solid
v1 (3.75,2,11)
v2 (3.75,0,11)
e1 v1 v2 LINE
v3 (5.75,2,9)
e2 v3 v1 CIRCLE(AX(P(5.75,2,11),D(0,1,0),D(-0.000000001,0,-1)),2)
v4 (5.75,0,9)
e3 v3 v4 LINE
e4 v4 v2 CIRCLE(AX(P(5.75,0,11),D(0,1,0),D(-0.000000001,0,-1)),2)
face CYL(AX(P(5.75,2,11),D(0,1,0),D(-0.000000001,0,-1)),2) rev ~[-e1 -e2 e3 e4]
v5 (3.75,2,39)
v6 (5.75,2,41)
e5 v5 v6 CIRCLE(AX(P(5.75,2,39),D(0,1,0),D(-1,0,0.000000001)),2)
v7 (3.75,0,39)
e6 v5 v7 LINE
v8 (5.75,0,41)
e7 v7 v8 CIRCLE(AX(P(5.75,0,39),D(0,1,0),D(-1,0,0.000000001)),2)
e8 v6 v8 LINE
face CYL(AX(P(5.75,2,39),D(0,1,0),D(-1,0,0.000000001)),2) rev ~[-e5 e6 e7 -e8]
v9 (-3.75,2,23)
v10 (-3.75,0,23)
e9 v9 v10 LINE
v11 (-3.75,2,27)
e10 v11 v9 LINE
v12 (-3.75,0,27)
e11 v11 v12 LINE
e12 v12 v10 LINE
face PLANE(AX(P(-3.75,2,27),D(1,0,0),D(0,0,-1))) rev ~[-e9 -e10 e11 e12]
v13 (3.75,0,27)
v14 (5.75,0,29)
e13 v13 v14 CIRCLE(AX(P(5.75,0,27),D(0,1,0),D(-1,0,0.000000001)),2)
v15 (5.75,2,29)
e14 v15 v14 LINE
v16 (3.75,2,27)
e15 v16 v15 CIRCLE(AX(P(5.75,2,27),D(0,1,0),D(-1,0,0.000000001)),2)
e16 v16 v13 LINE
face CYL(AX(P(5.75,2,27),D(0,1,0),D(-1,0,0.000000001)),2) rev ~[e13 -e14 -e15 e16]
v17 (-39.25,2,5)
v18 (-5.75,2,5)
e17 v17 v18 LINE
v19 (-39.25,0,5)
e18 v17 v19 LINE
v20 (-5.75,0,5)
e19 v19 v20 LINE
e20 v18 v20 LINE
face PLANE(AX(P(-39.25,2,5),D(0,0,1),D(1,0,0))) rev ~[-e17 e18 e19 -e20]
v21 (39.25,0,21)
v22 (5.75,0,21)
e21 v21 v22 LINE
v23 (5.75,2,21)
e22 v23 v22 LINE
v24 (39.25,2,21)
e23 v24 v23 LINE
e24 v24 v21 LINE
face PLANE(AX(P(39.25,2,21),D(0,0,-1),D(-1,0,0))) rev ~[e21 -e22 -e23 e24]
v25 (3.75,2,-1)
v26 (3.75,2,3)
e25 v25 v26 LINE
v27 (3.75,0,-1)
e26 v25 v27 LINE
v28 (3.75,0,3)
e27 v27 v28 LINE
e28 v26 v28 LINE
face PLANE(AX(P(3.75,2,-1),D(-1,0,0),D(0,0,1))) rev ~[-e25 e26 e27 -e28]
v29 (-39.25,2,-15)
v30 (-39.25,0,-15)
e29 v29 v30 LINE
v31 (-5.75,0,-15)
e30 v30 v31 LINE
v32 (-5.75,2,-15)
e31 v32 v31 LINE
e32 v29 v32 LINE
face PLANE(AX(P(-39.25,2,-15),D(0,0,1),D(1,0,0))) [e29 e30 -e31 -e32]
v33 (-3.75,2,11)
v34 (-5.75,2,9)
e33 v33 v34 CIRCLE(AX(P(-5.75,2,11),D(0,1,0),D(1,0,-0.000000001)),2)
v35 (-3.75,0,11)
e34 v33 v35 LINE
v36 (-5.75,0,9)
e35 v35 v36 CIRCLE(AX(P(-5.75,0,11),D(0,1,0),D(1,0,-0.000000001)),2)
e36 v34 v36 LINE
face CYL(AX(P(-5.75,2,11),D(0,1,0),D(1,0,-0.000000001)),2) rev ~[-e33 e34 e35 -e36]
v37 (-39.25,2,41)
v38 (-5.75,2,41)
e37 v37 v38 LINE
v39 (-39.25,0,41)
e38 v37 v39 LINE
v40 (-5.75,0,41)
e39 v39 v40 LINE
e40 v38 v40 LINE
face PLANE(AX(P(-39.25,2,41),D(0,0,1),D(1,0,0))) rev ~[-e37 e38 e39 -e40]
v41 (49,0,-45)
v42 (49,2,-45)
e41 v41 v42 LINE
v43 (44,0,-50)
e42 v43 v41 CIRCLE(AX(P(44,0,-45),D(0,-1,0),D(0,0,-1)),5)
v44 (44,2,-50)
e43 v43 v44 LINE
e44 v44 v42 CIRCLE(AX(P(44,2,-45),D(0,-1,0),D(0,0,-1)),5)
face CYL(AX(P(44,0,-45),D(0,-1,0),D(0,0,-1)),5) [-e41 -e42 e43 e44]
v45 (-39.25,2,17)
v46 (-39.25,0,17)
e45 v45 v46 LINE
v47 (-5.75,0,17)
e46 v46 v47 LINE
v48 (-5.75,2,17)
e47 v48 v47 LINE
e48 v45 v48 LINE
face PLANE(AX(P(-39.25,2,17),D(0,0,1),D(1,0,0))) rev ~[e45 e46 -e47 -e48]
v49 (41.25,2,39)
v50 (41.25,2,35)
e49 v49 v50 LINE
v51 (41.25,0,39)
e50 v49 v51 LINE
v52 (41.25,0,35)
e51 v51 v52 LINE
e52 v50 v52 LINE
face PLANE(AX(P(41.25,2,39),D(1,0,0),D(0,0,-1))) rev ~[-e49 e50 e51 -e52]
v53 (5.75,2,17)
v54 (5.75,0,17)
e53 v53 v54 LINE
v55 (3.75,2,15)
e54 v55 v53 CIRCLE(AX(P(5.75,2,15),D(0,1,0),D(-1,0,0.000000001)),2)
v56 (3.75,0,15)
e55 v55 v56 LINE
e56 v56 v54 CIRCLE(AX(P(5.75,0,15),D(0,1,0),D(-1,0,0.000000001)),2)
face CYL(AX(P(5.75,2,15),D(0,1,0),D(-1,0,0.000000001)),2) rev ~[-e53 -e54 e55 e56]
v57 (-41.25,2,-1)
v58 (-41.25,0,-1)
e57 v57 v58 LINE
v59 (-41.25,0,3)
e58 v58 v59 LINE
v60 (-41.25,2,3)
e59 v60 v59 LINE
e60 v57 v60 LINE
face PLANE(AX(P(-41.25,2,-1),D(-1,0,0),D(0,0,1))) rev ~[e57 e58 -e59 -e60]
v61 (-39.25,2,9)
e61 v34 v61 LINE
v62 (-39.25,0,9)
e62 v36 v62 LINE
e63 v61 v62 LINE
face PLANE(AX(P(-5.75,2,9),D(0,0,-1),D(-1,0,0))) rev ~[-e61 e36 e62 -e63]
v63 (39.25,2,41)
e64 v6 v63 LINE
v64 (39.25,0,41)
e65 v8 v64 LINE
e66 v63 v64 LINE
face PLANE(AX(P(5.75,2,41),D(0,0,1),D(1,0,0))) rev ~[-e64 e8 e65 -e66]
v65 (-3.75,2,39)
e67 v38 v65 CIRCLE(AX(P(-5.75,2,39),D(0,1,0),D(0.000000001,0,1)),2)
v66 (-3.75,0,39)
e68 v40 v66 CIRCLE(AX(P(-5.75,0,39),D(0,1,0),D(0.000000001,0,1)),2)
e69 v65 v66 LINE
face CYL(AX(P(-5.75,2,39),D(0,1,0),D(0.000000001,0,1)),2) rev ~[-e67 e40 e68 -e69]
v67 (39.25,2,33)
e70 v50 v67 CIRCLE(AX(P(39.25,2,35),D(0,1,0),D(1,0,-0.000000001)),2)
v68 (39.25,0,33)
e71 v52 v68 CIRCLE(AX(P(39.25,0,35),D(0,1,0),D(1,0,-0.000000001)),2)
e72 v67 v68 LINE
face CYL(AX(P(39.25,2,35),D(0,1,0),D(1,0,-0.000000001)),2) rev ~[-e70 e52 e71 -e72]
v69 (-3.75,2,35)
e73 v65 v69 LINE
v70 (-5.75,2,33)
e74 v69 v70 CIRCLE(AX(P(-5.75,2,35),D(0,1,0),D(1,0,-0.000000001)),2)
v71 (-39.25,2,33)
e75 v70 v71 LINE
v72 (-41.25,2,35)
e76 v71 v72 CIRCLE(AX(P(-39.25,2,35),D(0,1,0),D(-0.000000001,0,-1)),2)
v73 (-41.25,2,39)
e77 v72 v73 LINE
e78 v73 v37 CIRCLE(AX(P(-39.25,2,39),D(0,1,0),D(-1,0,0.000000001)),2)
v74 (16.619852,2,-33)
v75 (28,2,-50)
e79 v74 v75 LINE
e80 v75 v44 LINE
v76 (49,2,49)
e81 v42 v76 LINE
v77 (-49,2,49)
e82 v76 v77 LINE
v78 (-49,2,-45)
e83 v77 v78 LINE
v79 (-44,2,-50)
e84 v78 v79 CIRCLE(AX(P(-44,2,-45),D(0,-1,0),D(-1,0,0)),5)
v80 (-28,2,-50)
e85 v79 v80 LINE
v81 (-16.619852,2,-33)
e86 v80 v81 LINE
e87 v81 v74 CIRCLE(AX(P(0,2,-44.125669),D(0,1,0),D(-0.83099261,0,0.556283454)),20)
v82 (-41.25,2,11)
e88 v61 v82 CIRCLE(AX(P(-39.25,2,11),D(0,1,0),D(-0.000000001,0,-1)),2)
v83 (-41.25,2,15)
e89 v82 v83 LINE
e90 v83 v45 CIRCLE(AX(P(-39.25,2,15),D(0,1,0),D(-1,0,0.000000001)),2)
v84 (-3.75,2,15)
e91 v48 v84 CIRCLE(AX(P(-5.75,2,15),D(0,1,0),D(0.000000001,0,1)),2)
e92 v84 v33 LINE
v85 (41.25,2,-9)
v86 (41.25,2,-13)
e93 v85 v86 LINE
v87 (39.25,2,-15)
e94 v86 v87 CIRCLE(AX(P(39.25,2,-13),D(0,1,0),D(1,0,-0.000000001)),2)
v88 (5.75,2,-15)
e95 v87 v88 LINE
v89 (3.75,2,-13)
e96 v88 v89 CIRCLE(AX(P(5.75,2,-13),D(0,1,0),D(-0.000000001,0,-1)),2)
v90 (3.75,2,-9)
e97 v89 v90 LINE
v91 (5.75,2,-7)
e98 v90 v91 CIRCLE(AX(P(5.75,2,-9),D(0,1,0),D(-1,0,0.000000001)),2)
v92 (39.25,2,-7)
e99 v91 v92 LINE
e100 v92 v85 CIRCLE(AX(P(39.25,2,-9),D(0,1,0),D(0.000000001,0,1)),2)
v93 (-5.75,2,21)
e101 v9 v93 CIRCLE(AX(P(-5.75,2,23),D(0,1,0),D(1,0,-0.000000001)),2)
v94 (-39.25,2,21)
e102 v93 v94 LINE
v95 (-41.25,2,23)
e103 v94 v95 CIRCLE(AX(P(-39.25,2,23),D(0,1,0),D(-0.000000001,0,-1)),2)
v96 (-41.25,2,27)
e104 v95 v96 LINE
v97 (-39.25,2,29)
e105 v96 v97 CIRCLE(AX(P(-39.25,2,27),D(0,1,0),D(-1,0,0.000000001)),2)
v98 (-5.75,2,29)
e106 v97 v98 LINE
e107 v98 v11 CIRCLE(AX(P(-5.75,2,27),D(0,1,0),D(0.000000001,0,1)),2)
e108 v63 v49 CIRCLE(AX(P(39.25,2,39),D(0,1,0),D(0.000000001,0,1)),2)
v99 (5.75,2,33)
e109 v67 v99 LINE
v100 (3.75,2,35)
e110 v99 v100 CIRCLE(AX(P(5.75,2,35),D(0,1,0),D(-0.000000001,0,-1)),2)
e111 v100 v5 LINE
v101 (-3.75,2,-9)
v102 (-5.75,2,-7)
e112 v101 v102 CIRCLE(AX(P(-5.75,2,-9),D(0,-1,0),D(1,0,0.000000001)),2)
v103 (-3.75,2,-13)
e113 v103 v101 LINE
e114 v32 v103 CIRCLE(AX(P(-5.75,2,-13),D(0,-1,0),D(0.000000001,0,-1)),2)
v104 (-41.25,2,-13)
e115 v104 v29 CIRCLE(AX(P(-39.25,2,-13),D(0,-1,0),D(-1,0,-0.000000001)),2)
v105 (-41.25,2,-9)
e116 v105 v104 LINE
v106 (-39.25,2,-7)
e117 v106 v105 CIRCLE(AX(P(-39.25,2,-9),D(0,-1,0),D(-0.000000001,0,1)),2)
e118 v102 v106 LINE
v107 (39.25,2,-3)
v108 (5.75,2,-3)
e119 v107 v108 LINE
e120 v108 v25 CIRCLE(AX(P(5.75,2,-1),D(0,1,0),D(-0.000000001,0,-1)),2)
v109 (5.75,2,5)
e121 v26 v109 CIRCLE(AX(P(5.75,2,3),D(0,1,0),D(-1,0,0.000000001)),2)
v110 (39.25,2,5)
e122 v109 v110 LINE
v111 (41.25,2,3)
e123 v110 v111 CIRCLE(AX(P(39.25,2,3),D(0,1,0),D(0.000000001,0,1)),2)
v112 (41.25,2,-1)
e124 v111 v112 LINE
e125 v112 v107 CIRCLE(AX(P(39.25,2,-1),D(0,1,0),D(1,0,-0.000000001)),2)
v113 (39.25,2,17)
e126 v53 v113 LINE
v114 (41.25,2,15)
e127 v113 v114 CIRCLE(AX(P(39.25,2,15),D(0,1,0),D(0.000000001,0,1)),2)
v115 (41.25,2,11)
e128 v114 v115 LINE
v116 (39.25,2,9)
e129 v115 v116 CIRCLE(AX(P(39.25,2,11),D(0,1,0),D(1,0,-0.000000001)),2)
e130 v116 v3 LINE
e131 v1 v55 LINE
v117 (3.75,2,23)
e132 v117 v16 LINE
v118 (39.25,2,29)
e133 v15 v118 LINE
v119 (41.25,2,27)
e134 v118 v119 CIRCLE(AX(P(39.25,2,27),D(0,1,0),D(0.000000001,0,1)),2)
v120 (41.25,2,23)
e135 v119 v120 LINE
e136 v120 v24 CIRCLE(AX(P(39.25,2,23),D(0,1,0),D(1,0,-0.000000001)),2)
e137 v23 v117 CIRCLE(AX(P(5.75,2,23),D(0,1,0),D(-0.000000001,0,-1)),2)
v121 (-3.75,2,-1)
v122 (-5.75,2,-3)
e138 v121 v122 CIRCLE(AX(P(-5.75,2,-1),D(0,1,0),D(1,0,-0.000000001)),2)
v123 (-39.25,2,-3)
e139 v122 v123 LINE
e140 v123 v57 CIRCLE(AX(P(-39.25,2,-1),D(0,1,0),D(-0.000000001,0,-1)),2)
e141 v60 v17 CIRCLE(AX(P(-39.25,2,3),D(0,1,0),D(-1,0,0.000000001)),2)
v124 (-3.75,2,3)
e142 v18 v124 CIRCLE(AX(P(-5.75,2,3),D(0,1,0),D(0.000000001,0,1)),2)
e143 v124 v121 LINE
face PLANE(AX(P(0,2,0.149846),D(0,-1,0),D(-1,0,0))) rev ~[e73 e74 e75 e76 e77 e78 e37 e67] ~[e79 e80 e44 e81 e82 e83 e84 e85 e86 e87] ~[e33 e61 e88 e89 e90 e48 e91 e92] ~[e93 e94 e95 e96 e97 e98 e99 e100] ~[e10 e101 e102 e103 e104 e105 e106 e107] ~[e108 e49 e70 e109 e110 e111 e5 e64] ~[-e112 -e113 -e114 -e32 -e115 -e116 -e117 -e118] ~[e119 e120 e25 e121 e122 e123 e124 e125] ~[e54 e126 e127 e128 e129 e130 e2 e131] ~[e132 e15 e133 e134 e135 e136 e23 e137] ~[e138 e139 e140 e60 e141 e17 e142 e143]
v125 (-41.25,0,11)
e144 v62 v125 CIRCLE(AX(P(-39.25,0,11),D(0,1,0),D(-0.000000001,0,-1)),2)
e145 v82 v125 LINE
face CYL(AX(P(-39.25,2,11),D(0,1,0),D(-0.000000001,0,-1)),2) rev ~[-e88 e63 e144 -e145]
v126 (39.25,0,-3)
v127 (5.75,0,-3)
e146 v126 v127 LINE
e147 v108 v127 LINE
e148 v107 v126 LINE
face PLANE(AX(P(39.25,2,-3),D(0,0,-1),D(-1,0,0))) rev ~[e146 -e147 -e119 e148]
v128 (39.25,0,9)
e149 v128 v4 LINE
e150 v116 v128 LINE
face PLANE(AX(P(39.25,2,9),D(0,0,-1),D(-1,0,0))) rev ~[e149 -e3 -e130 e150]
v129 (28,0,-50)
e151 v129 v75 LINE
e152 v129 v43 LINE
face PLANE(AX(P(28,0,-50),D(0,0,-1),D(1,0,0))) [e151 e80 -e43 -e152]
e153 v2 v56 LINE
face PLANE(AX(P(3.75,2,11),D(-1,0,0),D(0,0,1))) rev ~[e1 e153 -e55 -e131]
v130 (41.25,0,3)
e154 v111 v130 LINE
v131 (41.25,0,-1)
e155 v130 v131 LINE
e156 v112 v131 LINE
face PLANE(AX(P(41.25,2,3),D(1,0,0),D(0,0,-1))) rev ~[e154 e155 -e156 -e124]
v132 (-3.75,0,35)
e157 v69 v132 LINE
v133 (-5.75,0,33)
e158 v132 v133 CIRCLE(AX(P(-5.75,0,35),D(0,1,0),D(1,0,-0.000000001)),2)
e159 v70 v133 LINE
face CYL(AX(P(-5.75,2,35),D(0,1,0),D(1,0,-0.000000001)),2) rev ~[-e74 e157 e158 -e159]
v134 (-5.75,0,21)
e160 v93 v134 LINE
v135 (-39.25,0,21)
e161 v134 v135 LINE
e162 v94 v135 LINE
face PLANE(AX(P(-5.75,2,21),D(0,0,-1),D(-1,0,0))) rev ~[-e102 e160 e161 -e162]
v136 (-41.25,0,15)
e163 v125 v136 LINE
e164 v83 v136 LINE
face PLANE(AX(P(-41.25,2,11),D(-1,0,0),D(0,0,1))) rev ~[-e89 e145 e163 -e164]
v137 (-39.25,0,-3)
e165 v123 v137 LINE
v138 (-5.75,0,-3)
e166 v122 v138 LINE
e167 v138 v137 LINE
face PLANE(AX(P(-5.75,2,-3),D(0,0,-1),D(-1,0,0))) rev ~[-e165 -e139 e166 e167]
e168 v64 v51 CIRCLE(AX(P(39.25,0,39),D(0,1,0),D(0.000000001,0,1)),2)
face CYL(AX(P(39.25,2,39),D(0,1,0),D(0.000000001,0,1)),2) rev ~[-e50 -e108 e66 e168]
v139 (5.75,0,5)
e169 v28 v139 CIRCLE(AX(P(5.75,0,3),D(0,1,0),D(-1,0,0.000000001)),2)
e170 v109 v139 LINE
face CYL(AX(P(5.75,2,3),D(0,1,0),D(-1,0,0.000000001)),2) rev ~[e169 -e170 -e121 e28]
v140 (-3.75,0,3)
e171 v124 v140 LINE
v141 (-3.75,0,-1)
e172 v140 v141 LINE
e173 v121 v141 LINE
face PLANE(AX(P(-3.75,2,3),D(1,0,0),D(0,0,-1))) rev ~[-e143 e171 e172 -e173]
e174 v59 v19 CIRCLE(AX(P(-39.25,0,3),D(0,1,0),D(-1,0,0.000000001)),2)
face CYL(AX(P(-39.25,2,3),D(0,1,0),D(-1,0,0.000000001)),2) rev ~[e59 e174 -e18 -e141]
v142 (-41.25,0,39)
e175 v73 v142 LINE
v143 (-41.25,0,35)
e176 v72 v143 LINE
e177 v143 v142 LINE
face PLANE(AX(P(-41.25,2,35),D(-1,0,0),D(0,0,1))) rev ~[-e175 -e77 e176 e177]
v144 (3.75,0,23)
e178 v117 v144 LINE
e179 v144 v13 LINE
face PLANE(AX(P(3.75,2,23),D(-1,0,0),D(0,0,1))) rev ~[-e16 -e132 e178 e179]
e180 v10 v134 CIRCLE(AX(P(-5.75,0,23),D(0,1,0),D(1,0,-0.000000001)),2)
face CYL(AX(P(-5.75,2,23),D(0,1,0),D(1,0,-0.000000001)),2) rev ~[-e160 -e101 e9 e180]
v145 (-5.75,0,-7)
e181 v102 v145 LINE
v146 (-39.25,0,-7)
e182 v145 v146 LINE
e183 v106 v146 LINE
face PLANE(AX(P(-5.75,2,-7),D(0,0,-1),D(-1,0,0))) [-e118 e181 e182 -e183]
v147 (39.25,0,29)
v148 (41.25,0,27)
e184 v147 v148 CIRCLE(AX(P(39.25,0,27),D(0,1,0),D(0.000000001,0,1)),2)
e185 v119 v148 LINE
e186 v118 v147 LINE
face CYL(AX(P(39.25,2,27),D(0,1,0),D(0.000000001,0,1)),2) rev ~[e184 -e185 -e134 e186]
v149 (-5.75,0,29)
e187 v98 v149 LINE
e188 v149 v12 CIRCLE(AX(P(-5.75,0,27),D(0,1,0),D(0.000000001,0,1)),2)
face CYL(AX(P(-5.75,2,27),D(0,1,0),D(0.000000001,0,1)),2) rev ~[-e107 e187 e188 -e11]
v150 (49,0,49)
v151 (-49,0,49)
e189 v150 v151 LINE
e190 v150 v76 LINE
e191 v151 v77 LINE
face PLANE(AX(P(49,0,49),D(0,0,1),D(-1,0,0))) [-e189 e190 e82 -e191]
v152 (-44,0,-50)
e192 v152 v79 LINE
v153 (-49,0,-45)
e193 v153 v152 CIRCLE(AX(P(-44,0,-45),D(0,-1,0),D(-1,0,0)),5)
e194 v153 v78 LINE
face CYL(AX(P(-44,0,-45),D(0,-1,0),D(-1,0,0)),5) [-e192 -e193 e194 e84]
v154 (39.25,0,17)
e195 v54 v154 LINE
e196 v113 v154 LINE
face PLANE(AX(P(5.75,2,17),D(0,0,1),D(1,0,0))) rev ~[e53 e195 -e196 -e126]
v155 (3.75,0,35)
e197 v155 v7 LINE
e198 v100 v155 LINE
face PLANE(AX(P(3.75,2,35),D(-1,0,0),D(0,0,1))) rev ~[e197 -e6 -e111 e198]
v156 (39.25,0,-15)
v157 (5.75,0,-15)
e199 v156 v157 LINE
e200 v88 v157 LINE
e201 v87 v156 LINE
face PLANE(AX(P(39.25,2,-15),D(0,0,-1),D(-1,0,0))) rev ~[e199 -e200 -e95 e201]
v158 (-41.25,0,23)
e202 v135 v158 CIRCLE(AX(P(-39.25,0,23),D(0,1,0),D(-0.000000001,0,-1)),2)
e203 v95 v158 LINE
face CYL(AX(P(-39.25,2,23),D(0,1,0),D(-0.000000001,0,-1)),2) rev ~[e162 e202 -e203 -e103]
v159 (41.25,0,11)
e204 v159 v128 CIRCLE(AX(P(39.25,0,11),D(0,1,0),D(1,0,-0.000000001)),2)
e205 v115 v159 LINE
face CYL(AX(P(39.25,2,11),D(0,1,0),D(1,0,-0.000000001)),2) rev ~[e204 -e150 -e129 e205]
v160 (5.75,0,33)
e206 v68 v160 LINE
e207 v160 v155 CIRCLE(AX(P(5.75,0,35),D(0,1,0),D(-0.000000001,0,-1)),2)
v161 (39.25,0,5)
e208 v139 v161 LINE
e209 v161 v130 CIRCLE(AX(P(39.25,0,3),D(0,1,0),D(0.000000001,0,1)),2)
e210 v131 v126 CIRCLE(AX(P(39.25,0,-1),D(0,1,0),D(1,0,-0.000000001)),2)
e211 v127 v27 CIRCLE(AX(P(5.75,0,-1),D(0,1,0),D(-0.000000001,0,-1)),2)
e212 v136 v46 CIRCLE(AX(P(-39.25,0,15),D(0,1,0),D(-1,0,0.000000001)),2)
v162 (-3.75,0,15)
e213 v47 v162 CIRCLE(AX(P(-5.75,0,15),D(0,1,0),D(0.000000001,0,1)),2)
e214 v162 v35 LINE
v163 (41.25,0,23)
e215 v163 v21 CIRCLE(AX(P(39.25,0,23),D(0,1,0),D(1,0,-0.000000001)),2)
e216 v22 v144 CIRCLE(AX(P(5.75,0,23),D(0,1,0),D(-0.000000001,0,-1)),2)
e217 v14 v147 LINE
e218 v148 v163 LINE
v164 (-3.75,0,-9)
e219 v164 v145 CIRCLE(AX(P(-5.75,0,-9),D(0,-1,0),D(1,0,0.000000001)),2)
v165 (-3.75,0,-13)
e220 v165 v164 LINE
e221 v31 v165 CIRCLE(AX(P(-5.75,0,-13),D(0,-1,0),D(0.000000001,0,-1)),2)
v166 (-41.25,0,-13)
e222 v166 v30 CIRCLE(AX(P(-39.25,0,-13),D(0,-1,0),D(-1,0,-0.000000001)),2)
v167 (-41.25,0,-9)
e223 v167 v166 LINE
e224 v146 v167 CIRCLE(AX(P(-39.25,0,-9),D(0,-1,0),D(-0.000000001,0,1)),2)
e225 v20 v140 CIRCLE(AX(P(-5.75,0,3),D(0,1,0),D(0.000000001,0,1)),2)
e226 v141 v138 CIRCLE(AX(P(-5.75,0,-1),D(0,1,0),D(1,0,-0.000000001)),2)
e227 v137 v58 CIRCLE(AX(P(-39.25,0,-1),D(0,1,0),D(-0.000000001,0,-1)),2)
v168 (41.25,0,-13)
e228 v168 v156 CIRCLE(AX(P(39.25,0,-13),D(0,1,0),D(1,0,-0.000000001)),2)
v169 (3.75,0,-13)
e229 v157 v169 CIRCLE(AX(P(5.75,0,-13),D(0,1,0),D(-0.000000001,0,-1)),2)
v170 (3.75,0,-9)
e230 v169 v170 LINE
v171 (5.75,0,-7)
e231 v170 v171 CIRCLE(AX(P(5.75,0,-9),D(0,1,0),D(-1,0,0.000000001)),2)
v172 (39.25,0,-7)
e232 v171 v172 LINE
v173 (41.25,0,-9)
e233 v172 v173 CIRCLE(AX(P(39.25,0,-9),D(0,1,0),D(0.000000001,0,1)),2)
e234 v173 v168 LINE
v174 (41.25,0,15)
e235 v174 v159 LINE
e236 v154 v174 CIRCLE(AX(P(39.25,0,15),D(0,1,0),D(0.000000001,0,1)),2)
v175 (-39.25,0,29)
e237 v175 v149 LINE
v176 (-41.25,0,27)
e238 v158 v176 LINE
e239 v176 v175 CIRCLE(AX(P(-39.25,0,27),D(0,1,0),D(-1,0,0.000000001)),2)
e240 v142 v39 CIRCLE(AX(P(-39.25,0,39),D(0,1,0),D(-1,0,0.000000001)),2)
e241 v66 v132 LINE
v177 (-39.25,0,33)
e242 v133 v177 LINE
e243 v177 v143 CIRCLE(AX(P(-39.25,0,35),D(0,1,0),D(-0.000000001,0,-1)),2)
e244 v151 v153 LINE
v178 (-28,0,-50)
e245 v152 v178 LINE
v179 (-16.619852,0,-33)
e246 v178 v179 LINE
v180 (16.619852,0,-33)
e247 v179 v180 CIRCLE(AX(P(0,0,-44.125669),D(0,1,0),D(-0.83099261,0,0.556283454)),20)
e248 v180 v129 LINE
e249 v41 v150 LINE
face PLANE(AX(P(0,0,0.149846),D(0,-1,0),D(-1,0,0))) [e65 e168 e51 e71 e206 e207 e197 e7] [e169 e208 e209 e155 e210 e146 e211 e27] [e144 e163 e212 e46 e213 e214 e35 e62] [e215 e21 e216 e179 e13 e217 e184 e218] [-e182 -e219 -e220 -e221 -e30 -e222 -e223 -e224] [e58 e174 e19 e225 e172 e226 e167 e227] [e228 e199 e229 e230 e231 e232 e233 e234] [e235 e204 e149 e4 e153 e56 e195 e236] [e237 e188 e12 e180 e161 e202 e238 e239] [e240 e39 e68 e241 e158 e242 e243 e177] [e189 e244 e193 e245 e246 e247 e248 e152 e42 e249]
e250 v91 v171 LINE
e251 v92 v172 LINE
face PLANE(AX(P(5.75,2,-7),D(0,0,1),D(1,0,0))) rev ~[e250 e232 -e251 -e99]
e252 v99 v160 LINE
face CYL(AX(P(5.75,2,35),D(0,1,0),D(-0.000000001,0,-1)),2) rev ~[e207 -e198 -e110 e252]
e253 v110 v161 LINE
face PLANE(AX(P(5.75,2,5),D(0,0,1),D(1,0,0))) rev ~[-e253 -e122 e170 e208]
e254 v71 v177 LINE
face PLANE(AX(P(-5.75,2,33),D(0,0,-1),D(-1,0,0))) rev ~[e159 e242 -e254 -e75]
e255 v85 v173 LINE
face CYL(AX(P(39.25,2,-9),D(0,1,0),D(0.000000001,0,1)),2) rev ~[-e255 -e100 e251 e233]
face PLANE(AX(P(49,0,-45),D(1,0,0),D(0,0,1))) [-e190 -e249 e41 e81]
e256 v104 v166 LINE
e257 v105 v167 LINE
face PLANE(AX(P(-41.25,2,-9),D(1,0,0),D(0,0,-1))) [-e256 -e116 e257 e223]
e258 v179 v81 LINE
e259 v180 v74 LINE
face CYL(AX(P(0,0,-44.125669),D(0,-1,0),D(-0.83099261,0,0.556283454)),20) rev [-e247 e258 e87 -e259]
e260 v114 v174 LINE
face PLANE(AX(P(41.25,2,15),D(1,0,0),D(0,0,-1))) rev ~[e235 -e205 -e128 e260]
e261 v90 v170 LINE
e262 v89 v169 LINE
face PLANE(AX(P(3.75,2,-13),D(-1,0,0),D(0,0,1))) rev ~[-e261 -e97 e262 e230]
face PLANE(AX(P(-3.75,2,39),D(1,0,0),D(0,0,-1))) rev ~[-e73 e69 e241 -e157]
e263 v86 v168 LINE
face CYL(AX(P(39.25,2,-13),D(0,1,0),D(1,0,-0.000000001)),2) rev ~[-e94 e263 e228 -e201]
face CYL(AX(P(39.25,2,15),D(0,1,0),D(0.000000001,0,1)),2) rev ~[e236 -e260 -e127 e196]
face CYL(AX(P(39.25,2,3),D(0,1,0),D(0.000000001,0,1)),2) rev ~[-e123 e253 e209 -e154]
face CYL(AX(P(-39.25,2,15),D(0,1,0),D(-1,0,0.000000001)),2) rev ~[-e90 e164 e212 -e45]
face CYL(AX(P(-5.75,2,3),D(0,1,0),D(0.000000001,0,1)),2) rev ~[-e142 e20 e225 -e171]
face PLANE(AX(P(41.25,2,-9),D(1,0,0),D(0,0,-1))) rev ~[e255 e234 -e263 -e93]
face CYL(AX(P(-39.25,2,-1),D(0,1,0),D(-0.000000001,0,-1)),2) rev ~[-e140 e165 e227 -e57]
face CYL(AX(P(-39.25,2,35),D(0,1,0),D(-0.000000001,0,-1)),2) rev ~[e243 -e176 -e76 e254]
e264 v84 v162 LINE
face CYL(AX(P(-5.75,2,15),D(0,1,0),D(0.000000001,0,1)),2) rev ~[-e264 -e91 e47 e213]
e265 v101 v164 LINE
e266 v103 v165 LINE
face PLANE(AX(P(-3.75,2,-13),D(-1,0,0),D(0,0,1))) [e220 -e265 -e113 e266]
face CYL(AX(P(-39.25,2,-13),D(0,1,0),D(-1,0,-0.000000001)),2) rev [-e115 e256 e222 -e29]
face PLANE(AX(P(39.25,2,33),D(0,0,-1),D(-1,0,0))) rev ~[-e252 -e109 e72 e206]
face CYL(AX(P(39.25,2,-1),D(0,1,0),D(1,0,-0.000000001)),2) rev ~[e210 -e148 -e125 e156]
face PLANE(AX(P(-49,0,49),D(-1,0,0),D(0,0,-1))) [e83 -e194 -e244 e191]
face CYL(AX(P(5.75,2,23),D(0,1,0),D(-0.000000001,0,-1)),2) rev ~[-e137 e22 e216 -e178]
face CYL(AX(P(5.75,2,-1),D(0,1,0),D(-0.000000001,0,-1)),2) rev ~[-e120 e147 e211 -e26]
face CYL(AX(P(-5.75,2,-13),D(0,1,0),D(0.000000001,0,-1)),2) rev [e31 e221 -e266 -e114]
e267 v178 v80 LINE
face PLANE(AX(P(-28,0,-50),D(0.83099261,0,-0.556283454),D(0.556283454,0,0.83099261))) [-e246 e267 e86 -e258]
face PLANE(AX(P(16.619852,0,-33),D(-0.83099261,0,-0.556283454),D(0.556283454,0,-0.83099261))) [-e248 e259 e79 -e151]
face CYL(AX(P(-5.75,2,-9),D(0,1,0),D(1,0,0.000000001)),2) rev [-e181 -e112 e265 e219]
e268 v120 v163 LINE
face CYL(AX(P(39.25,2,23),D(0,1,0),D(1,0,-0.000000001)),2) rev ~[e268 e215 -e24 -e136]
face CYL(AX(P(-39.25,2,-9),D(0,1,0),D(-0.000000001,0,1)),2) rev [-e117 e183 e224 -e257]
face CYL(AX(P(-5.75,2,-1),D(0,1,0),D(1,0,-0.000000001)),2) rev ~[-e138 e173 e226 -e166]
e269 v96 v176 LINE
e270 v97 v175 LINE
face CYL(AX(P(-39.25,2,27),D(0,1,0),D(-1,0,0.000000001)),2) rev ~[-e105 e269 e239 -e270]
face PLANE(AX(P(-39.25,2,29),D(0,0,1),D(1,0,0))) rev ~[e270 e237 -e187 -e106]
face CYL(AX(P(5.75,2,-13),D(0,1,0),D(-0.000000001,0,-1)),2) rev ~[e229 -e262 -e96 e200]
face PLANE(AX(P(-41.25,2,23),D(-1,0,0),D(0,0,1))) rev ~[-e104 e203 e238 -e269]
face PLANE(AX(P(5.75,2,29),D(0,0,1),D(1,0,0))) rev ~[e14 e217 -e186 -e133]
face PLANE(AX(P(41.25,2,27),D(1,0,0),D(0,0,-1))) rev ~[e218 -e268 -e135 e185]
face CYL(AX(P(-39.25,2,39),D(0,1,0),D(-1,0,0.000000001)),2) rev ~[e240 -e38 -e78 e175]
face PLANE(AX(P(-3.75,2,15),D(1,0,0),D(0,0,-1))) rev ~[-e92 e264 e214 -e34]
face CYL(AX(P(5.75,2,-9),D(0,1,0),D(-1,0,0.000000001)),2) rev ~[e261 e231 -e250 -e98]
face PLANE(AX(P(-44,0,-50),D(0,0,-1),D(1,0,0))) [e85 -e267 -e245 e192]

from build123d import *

# Parameters (mm, degrees)
AUFSATZ_LINEAR_AUSTRAGEN2_DEPTH = 2
SCHNITT_LINEAR_AUSTRAGEN2_DEPTH = 2


with BuildPart() as part:
    # Skizze2 → Aufsatz-Linear austragen2 (new body)
    with BuildSketch(Plane(origin=(0, 0, 0), x_dir=(1, 0, 0), z_dir=(0, 1, 0))):
        with BuildLine():
            Line((-44, 50), (-28, 50))
            Line((-28, 50), (-16.61985221, 33))
            ThreePointArc((-16.61985221, 33), (0, 24.125669082), (16.61985221, 33))
            Line((16.61985221, 33), (28, 50))
            Line((28, 50), (44, 50))
            ThreePointArc((44, 50), (47.535533906, 48.535533906), (49, 45))
            Line((49, 45), (49, -49))
            Line((49, -49), (-49, -49))
            Line((-49, -49), (-49, 45))
            ThreePointArc((-49, 45), (-47.535533906, 48.535533906), (-44, 50))
        make_face()
    extrude(amount=AUFSATZ_LINEAR_AUSTRAGEN2_DEPTH)

    # Skizze3 → Schnitt-Linear austragen2 (cut)
    with BuildSketch(Plane(origin=(0, 2, 0), x_dir=(1, 0, 0), z_dir=(0, 1, 0))):
        with BuildLine():
            Line((-39.25, 15), (-5.75, 15))
            ThreePointArc((-5.75, 15), (-4.335786438, 14.414213562), (-3.75, 13))
            Line((-3.75, 13), (-3.75, 9))
            ThreePointArc((-3.75, 9), (-4.335786438, 7.585786438), (-5.75, 7))
            Line((-5.75, 7), (-39.25, 7))
            ThreePointArc((-39.25, 7), (-40.664213562, 7.585786438), (-41.25, 9))
            Line((-41.25, 9), (-41.25, 13))
            ThreePointArc((-41.25, 13), (-40.664213562, 14.414213562), (-39.25, 15))
        make_face()
        with BuildLine():
            Line((3.75, 13), (3.75, 9))
            ThreePointArc((3.75, 9), (4.335786438, 7.585786438), (5.75, 7))
            Line((5.75, 7), (39.25, 7))
            ThreePointArc((39.25, 7), (40.664213562, 7.585786438), (41.25, 9))
            Line((41.25, 9), (41.25, 13))
            ThreePointArc((41.25, 13), (40.664213562, 14.414213562), (39.25, 15))
            Line((39.25, 15), (5.75, 15))
            ThreePointArc((5.75, 15), (4.335786438, 14.414213562), (3.75, 13))
        make_face()
        with BuildLine():
            Line((3.75, 1), (3.75, -3))
            ThreePointArc((3.75, -3), (4.335786438, -4.414213562), (5.75, -5))
            Line((5.75, -5), (39.25, -5))
            ThreePointArc((39.25, -5), (40.664213562, -4.414213562), (41.25, -3))
            Line((41.25, -3), (41.25, 1))
            ThreePointArc((41.25, 1), (40.664213562, 2.414213562), (39.25, 3))
            Line((39.25, 3), (5.75, 3))
            ThreePointArc((5.75, 3), (4.335786438, 2.414213562), (3.75, 1))
        make_face()
        with BuildLine():
            Line((3.75, -11), (3.75, -15))
            ThreePointArc((3.75, -15), (4.335786438, -16.414213562), (5.75, -17))
            Line((5.75, -17), (39.25, -17))
            ThreePointArc((39.25, -17), (40.664213562, -16.414213562), (41.25, -15))
            Line((41.25, -15), (41.25, -11))
            ThreePointArc((41.25, -11), (40.664213562, -9.585786438), (39.25, -9))
            Line((39.25, -9), (5.75, -9))
            ThreePointArc((5.75, -9), (4.335786438, -9.585786438), (3.75, -11))
        make_face()
        with BuildLine():
            Line((3.75, -23), (3.75, -27))
            ThreePointArc((3.75, -27), (4.335786438, -28.414213562), (5.75, -29))
            Line((5.75, -29), (39.25, -29))
            ThreePointArc((39.25, -29), (40.664213562, -28.414213562), (41.25, -27))
            Line((41.25, -27), (41.25, -23))
            ThreePointArc((41.25, -23), (40.664213562, -21.585786438), (39.25, -21))
            Line((39.25, -21), (5.75, -21))
            ThreePointArc((5.75, -21), (4.335786438, -21.585786438), (3.75, -23))
        make_face()
        with BuildLine():
            Line((3.75, -35), (3.75, -39))
            ThreePointArc((3.75, -39), (4.335786438, -40.414213562), (5.75, -41))
            Line((5.75, -41), (39.25, -41))
            ThreePointArc((39.25, -41), (40.664213562, -40.414213562), (41.25, -39))
            Line((41.25, -39), (41.25, -35))
            ThreePointArc((41.25, -35), (40.664213562, -33.585786438), (39.25, -33))
            Line((39.25, -33), (5.75, -33))
            ThreePointArc((5.75, -33), (4.335786438, -33.585786438), (3.75, -35))
        make_face()
        with BuildLine():
            Line((-41.25, 1), (-41.25, -3))
            ThreePointArc((-41.25, -3), (-40.664213562, -4.414213562), (-39.25, -5))
            Line((-39.25, -5), (-5.75, -5))
            ThreePointArc((-5.75, -5), (-4.335786438, -4.414213562), (-3.75, -3))
            Line((-3.75, -3), (-3.75, 1))
            ThreePointArc((-3.75, 1), (-4.335786438, 2.414213562), (-5.75, 3))
            Line((-5.75, 3), (-39.25, 3))
            ThreePointArc((-39.25, 3), (-40.664213562, 2.414213562), (-41.25, 1))
        make_face()
        with BuildLine():
            Line((-41.25, -11), (-41.25, -15))
            ThreePointArc((-41.25, -15), (-40.664213562, -16.414213562), (-39.25, -17))
            Line((-39.25, -17), (-5.75, -17))
            ThreePointArc((-5.75, -17), (-4.335786438, -16.414213562), (-3.75, -15))
            Line((-3.75, -15), (-3.75, -11))
            ThreePointArc((-3.75, -11), (-4.335786438, -9.585786438), (-5.75, -9))
            Line((-5.75, -9), (-39.25, -9))
            ThreePointArc((-39.25, -9), (-40.664213562, -9.585786438), (-41.25, -11))
        make_face()
        with BuildLine():
            Line((-41.25, -23), (-41.25, -27))
            ThreePointArc((-41.25, -27), (-40.664213562, -28.414213562), (-39.25, -29))
            Line((-39.25, -29), (-5.75, -29))
            ThreePointArc((-5.75, -29), (-4.335786438, -28.414213562), (-3.75, -27))
            Line((-3.75, -27), (-3.75, -23))
            ThreePointArc((-3.75, -23), (-4.335786438, -21.585786438), (-5.75, -21))
            Line((-5.75, -21), (-39.25, -21))
            ThreePointArc((-39.25, -21), (-40.664213562, -21.585786438), (-41.25, -23))
        make_face()
        with BuildLine():
            Line((-41.25, -35), (-41.25, -39))
            ThreePointArc((-41.25, -39), (-40.664213562, -40.414213562), (-39.25, -41))
            Line((-39.25, -41), (-5.75, -41))
            ThreePointArc((-5.75, -41), (-4.335786438, -40.414213562), (-3.75, -39))
            Line((-3.75, -39), (-3.75, -35))
            ThreePointArc((-3.75, -35), (-4.335786438, -33.585786438), (-5.75, -33))
            Line((-5.75, -33), (-39.25, -33))
            ThreePointArc((-39.25, -33), (-40.664213562, -33.585786438), (-41.25, -35))
        make_face()
    extrude(amount=-SCHNITT_LINEAR_AUSTRAGEN2_DEPTH, mode=Mode.SUBTRACT)


solid = part.part
